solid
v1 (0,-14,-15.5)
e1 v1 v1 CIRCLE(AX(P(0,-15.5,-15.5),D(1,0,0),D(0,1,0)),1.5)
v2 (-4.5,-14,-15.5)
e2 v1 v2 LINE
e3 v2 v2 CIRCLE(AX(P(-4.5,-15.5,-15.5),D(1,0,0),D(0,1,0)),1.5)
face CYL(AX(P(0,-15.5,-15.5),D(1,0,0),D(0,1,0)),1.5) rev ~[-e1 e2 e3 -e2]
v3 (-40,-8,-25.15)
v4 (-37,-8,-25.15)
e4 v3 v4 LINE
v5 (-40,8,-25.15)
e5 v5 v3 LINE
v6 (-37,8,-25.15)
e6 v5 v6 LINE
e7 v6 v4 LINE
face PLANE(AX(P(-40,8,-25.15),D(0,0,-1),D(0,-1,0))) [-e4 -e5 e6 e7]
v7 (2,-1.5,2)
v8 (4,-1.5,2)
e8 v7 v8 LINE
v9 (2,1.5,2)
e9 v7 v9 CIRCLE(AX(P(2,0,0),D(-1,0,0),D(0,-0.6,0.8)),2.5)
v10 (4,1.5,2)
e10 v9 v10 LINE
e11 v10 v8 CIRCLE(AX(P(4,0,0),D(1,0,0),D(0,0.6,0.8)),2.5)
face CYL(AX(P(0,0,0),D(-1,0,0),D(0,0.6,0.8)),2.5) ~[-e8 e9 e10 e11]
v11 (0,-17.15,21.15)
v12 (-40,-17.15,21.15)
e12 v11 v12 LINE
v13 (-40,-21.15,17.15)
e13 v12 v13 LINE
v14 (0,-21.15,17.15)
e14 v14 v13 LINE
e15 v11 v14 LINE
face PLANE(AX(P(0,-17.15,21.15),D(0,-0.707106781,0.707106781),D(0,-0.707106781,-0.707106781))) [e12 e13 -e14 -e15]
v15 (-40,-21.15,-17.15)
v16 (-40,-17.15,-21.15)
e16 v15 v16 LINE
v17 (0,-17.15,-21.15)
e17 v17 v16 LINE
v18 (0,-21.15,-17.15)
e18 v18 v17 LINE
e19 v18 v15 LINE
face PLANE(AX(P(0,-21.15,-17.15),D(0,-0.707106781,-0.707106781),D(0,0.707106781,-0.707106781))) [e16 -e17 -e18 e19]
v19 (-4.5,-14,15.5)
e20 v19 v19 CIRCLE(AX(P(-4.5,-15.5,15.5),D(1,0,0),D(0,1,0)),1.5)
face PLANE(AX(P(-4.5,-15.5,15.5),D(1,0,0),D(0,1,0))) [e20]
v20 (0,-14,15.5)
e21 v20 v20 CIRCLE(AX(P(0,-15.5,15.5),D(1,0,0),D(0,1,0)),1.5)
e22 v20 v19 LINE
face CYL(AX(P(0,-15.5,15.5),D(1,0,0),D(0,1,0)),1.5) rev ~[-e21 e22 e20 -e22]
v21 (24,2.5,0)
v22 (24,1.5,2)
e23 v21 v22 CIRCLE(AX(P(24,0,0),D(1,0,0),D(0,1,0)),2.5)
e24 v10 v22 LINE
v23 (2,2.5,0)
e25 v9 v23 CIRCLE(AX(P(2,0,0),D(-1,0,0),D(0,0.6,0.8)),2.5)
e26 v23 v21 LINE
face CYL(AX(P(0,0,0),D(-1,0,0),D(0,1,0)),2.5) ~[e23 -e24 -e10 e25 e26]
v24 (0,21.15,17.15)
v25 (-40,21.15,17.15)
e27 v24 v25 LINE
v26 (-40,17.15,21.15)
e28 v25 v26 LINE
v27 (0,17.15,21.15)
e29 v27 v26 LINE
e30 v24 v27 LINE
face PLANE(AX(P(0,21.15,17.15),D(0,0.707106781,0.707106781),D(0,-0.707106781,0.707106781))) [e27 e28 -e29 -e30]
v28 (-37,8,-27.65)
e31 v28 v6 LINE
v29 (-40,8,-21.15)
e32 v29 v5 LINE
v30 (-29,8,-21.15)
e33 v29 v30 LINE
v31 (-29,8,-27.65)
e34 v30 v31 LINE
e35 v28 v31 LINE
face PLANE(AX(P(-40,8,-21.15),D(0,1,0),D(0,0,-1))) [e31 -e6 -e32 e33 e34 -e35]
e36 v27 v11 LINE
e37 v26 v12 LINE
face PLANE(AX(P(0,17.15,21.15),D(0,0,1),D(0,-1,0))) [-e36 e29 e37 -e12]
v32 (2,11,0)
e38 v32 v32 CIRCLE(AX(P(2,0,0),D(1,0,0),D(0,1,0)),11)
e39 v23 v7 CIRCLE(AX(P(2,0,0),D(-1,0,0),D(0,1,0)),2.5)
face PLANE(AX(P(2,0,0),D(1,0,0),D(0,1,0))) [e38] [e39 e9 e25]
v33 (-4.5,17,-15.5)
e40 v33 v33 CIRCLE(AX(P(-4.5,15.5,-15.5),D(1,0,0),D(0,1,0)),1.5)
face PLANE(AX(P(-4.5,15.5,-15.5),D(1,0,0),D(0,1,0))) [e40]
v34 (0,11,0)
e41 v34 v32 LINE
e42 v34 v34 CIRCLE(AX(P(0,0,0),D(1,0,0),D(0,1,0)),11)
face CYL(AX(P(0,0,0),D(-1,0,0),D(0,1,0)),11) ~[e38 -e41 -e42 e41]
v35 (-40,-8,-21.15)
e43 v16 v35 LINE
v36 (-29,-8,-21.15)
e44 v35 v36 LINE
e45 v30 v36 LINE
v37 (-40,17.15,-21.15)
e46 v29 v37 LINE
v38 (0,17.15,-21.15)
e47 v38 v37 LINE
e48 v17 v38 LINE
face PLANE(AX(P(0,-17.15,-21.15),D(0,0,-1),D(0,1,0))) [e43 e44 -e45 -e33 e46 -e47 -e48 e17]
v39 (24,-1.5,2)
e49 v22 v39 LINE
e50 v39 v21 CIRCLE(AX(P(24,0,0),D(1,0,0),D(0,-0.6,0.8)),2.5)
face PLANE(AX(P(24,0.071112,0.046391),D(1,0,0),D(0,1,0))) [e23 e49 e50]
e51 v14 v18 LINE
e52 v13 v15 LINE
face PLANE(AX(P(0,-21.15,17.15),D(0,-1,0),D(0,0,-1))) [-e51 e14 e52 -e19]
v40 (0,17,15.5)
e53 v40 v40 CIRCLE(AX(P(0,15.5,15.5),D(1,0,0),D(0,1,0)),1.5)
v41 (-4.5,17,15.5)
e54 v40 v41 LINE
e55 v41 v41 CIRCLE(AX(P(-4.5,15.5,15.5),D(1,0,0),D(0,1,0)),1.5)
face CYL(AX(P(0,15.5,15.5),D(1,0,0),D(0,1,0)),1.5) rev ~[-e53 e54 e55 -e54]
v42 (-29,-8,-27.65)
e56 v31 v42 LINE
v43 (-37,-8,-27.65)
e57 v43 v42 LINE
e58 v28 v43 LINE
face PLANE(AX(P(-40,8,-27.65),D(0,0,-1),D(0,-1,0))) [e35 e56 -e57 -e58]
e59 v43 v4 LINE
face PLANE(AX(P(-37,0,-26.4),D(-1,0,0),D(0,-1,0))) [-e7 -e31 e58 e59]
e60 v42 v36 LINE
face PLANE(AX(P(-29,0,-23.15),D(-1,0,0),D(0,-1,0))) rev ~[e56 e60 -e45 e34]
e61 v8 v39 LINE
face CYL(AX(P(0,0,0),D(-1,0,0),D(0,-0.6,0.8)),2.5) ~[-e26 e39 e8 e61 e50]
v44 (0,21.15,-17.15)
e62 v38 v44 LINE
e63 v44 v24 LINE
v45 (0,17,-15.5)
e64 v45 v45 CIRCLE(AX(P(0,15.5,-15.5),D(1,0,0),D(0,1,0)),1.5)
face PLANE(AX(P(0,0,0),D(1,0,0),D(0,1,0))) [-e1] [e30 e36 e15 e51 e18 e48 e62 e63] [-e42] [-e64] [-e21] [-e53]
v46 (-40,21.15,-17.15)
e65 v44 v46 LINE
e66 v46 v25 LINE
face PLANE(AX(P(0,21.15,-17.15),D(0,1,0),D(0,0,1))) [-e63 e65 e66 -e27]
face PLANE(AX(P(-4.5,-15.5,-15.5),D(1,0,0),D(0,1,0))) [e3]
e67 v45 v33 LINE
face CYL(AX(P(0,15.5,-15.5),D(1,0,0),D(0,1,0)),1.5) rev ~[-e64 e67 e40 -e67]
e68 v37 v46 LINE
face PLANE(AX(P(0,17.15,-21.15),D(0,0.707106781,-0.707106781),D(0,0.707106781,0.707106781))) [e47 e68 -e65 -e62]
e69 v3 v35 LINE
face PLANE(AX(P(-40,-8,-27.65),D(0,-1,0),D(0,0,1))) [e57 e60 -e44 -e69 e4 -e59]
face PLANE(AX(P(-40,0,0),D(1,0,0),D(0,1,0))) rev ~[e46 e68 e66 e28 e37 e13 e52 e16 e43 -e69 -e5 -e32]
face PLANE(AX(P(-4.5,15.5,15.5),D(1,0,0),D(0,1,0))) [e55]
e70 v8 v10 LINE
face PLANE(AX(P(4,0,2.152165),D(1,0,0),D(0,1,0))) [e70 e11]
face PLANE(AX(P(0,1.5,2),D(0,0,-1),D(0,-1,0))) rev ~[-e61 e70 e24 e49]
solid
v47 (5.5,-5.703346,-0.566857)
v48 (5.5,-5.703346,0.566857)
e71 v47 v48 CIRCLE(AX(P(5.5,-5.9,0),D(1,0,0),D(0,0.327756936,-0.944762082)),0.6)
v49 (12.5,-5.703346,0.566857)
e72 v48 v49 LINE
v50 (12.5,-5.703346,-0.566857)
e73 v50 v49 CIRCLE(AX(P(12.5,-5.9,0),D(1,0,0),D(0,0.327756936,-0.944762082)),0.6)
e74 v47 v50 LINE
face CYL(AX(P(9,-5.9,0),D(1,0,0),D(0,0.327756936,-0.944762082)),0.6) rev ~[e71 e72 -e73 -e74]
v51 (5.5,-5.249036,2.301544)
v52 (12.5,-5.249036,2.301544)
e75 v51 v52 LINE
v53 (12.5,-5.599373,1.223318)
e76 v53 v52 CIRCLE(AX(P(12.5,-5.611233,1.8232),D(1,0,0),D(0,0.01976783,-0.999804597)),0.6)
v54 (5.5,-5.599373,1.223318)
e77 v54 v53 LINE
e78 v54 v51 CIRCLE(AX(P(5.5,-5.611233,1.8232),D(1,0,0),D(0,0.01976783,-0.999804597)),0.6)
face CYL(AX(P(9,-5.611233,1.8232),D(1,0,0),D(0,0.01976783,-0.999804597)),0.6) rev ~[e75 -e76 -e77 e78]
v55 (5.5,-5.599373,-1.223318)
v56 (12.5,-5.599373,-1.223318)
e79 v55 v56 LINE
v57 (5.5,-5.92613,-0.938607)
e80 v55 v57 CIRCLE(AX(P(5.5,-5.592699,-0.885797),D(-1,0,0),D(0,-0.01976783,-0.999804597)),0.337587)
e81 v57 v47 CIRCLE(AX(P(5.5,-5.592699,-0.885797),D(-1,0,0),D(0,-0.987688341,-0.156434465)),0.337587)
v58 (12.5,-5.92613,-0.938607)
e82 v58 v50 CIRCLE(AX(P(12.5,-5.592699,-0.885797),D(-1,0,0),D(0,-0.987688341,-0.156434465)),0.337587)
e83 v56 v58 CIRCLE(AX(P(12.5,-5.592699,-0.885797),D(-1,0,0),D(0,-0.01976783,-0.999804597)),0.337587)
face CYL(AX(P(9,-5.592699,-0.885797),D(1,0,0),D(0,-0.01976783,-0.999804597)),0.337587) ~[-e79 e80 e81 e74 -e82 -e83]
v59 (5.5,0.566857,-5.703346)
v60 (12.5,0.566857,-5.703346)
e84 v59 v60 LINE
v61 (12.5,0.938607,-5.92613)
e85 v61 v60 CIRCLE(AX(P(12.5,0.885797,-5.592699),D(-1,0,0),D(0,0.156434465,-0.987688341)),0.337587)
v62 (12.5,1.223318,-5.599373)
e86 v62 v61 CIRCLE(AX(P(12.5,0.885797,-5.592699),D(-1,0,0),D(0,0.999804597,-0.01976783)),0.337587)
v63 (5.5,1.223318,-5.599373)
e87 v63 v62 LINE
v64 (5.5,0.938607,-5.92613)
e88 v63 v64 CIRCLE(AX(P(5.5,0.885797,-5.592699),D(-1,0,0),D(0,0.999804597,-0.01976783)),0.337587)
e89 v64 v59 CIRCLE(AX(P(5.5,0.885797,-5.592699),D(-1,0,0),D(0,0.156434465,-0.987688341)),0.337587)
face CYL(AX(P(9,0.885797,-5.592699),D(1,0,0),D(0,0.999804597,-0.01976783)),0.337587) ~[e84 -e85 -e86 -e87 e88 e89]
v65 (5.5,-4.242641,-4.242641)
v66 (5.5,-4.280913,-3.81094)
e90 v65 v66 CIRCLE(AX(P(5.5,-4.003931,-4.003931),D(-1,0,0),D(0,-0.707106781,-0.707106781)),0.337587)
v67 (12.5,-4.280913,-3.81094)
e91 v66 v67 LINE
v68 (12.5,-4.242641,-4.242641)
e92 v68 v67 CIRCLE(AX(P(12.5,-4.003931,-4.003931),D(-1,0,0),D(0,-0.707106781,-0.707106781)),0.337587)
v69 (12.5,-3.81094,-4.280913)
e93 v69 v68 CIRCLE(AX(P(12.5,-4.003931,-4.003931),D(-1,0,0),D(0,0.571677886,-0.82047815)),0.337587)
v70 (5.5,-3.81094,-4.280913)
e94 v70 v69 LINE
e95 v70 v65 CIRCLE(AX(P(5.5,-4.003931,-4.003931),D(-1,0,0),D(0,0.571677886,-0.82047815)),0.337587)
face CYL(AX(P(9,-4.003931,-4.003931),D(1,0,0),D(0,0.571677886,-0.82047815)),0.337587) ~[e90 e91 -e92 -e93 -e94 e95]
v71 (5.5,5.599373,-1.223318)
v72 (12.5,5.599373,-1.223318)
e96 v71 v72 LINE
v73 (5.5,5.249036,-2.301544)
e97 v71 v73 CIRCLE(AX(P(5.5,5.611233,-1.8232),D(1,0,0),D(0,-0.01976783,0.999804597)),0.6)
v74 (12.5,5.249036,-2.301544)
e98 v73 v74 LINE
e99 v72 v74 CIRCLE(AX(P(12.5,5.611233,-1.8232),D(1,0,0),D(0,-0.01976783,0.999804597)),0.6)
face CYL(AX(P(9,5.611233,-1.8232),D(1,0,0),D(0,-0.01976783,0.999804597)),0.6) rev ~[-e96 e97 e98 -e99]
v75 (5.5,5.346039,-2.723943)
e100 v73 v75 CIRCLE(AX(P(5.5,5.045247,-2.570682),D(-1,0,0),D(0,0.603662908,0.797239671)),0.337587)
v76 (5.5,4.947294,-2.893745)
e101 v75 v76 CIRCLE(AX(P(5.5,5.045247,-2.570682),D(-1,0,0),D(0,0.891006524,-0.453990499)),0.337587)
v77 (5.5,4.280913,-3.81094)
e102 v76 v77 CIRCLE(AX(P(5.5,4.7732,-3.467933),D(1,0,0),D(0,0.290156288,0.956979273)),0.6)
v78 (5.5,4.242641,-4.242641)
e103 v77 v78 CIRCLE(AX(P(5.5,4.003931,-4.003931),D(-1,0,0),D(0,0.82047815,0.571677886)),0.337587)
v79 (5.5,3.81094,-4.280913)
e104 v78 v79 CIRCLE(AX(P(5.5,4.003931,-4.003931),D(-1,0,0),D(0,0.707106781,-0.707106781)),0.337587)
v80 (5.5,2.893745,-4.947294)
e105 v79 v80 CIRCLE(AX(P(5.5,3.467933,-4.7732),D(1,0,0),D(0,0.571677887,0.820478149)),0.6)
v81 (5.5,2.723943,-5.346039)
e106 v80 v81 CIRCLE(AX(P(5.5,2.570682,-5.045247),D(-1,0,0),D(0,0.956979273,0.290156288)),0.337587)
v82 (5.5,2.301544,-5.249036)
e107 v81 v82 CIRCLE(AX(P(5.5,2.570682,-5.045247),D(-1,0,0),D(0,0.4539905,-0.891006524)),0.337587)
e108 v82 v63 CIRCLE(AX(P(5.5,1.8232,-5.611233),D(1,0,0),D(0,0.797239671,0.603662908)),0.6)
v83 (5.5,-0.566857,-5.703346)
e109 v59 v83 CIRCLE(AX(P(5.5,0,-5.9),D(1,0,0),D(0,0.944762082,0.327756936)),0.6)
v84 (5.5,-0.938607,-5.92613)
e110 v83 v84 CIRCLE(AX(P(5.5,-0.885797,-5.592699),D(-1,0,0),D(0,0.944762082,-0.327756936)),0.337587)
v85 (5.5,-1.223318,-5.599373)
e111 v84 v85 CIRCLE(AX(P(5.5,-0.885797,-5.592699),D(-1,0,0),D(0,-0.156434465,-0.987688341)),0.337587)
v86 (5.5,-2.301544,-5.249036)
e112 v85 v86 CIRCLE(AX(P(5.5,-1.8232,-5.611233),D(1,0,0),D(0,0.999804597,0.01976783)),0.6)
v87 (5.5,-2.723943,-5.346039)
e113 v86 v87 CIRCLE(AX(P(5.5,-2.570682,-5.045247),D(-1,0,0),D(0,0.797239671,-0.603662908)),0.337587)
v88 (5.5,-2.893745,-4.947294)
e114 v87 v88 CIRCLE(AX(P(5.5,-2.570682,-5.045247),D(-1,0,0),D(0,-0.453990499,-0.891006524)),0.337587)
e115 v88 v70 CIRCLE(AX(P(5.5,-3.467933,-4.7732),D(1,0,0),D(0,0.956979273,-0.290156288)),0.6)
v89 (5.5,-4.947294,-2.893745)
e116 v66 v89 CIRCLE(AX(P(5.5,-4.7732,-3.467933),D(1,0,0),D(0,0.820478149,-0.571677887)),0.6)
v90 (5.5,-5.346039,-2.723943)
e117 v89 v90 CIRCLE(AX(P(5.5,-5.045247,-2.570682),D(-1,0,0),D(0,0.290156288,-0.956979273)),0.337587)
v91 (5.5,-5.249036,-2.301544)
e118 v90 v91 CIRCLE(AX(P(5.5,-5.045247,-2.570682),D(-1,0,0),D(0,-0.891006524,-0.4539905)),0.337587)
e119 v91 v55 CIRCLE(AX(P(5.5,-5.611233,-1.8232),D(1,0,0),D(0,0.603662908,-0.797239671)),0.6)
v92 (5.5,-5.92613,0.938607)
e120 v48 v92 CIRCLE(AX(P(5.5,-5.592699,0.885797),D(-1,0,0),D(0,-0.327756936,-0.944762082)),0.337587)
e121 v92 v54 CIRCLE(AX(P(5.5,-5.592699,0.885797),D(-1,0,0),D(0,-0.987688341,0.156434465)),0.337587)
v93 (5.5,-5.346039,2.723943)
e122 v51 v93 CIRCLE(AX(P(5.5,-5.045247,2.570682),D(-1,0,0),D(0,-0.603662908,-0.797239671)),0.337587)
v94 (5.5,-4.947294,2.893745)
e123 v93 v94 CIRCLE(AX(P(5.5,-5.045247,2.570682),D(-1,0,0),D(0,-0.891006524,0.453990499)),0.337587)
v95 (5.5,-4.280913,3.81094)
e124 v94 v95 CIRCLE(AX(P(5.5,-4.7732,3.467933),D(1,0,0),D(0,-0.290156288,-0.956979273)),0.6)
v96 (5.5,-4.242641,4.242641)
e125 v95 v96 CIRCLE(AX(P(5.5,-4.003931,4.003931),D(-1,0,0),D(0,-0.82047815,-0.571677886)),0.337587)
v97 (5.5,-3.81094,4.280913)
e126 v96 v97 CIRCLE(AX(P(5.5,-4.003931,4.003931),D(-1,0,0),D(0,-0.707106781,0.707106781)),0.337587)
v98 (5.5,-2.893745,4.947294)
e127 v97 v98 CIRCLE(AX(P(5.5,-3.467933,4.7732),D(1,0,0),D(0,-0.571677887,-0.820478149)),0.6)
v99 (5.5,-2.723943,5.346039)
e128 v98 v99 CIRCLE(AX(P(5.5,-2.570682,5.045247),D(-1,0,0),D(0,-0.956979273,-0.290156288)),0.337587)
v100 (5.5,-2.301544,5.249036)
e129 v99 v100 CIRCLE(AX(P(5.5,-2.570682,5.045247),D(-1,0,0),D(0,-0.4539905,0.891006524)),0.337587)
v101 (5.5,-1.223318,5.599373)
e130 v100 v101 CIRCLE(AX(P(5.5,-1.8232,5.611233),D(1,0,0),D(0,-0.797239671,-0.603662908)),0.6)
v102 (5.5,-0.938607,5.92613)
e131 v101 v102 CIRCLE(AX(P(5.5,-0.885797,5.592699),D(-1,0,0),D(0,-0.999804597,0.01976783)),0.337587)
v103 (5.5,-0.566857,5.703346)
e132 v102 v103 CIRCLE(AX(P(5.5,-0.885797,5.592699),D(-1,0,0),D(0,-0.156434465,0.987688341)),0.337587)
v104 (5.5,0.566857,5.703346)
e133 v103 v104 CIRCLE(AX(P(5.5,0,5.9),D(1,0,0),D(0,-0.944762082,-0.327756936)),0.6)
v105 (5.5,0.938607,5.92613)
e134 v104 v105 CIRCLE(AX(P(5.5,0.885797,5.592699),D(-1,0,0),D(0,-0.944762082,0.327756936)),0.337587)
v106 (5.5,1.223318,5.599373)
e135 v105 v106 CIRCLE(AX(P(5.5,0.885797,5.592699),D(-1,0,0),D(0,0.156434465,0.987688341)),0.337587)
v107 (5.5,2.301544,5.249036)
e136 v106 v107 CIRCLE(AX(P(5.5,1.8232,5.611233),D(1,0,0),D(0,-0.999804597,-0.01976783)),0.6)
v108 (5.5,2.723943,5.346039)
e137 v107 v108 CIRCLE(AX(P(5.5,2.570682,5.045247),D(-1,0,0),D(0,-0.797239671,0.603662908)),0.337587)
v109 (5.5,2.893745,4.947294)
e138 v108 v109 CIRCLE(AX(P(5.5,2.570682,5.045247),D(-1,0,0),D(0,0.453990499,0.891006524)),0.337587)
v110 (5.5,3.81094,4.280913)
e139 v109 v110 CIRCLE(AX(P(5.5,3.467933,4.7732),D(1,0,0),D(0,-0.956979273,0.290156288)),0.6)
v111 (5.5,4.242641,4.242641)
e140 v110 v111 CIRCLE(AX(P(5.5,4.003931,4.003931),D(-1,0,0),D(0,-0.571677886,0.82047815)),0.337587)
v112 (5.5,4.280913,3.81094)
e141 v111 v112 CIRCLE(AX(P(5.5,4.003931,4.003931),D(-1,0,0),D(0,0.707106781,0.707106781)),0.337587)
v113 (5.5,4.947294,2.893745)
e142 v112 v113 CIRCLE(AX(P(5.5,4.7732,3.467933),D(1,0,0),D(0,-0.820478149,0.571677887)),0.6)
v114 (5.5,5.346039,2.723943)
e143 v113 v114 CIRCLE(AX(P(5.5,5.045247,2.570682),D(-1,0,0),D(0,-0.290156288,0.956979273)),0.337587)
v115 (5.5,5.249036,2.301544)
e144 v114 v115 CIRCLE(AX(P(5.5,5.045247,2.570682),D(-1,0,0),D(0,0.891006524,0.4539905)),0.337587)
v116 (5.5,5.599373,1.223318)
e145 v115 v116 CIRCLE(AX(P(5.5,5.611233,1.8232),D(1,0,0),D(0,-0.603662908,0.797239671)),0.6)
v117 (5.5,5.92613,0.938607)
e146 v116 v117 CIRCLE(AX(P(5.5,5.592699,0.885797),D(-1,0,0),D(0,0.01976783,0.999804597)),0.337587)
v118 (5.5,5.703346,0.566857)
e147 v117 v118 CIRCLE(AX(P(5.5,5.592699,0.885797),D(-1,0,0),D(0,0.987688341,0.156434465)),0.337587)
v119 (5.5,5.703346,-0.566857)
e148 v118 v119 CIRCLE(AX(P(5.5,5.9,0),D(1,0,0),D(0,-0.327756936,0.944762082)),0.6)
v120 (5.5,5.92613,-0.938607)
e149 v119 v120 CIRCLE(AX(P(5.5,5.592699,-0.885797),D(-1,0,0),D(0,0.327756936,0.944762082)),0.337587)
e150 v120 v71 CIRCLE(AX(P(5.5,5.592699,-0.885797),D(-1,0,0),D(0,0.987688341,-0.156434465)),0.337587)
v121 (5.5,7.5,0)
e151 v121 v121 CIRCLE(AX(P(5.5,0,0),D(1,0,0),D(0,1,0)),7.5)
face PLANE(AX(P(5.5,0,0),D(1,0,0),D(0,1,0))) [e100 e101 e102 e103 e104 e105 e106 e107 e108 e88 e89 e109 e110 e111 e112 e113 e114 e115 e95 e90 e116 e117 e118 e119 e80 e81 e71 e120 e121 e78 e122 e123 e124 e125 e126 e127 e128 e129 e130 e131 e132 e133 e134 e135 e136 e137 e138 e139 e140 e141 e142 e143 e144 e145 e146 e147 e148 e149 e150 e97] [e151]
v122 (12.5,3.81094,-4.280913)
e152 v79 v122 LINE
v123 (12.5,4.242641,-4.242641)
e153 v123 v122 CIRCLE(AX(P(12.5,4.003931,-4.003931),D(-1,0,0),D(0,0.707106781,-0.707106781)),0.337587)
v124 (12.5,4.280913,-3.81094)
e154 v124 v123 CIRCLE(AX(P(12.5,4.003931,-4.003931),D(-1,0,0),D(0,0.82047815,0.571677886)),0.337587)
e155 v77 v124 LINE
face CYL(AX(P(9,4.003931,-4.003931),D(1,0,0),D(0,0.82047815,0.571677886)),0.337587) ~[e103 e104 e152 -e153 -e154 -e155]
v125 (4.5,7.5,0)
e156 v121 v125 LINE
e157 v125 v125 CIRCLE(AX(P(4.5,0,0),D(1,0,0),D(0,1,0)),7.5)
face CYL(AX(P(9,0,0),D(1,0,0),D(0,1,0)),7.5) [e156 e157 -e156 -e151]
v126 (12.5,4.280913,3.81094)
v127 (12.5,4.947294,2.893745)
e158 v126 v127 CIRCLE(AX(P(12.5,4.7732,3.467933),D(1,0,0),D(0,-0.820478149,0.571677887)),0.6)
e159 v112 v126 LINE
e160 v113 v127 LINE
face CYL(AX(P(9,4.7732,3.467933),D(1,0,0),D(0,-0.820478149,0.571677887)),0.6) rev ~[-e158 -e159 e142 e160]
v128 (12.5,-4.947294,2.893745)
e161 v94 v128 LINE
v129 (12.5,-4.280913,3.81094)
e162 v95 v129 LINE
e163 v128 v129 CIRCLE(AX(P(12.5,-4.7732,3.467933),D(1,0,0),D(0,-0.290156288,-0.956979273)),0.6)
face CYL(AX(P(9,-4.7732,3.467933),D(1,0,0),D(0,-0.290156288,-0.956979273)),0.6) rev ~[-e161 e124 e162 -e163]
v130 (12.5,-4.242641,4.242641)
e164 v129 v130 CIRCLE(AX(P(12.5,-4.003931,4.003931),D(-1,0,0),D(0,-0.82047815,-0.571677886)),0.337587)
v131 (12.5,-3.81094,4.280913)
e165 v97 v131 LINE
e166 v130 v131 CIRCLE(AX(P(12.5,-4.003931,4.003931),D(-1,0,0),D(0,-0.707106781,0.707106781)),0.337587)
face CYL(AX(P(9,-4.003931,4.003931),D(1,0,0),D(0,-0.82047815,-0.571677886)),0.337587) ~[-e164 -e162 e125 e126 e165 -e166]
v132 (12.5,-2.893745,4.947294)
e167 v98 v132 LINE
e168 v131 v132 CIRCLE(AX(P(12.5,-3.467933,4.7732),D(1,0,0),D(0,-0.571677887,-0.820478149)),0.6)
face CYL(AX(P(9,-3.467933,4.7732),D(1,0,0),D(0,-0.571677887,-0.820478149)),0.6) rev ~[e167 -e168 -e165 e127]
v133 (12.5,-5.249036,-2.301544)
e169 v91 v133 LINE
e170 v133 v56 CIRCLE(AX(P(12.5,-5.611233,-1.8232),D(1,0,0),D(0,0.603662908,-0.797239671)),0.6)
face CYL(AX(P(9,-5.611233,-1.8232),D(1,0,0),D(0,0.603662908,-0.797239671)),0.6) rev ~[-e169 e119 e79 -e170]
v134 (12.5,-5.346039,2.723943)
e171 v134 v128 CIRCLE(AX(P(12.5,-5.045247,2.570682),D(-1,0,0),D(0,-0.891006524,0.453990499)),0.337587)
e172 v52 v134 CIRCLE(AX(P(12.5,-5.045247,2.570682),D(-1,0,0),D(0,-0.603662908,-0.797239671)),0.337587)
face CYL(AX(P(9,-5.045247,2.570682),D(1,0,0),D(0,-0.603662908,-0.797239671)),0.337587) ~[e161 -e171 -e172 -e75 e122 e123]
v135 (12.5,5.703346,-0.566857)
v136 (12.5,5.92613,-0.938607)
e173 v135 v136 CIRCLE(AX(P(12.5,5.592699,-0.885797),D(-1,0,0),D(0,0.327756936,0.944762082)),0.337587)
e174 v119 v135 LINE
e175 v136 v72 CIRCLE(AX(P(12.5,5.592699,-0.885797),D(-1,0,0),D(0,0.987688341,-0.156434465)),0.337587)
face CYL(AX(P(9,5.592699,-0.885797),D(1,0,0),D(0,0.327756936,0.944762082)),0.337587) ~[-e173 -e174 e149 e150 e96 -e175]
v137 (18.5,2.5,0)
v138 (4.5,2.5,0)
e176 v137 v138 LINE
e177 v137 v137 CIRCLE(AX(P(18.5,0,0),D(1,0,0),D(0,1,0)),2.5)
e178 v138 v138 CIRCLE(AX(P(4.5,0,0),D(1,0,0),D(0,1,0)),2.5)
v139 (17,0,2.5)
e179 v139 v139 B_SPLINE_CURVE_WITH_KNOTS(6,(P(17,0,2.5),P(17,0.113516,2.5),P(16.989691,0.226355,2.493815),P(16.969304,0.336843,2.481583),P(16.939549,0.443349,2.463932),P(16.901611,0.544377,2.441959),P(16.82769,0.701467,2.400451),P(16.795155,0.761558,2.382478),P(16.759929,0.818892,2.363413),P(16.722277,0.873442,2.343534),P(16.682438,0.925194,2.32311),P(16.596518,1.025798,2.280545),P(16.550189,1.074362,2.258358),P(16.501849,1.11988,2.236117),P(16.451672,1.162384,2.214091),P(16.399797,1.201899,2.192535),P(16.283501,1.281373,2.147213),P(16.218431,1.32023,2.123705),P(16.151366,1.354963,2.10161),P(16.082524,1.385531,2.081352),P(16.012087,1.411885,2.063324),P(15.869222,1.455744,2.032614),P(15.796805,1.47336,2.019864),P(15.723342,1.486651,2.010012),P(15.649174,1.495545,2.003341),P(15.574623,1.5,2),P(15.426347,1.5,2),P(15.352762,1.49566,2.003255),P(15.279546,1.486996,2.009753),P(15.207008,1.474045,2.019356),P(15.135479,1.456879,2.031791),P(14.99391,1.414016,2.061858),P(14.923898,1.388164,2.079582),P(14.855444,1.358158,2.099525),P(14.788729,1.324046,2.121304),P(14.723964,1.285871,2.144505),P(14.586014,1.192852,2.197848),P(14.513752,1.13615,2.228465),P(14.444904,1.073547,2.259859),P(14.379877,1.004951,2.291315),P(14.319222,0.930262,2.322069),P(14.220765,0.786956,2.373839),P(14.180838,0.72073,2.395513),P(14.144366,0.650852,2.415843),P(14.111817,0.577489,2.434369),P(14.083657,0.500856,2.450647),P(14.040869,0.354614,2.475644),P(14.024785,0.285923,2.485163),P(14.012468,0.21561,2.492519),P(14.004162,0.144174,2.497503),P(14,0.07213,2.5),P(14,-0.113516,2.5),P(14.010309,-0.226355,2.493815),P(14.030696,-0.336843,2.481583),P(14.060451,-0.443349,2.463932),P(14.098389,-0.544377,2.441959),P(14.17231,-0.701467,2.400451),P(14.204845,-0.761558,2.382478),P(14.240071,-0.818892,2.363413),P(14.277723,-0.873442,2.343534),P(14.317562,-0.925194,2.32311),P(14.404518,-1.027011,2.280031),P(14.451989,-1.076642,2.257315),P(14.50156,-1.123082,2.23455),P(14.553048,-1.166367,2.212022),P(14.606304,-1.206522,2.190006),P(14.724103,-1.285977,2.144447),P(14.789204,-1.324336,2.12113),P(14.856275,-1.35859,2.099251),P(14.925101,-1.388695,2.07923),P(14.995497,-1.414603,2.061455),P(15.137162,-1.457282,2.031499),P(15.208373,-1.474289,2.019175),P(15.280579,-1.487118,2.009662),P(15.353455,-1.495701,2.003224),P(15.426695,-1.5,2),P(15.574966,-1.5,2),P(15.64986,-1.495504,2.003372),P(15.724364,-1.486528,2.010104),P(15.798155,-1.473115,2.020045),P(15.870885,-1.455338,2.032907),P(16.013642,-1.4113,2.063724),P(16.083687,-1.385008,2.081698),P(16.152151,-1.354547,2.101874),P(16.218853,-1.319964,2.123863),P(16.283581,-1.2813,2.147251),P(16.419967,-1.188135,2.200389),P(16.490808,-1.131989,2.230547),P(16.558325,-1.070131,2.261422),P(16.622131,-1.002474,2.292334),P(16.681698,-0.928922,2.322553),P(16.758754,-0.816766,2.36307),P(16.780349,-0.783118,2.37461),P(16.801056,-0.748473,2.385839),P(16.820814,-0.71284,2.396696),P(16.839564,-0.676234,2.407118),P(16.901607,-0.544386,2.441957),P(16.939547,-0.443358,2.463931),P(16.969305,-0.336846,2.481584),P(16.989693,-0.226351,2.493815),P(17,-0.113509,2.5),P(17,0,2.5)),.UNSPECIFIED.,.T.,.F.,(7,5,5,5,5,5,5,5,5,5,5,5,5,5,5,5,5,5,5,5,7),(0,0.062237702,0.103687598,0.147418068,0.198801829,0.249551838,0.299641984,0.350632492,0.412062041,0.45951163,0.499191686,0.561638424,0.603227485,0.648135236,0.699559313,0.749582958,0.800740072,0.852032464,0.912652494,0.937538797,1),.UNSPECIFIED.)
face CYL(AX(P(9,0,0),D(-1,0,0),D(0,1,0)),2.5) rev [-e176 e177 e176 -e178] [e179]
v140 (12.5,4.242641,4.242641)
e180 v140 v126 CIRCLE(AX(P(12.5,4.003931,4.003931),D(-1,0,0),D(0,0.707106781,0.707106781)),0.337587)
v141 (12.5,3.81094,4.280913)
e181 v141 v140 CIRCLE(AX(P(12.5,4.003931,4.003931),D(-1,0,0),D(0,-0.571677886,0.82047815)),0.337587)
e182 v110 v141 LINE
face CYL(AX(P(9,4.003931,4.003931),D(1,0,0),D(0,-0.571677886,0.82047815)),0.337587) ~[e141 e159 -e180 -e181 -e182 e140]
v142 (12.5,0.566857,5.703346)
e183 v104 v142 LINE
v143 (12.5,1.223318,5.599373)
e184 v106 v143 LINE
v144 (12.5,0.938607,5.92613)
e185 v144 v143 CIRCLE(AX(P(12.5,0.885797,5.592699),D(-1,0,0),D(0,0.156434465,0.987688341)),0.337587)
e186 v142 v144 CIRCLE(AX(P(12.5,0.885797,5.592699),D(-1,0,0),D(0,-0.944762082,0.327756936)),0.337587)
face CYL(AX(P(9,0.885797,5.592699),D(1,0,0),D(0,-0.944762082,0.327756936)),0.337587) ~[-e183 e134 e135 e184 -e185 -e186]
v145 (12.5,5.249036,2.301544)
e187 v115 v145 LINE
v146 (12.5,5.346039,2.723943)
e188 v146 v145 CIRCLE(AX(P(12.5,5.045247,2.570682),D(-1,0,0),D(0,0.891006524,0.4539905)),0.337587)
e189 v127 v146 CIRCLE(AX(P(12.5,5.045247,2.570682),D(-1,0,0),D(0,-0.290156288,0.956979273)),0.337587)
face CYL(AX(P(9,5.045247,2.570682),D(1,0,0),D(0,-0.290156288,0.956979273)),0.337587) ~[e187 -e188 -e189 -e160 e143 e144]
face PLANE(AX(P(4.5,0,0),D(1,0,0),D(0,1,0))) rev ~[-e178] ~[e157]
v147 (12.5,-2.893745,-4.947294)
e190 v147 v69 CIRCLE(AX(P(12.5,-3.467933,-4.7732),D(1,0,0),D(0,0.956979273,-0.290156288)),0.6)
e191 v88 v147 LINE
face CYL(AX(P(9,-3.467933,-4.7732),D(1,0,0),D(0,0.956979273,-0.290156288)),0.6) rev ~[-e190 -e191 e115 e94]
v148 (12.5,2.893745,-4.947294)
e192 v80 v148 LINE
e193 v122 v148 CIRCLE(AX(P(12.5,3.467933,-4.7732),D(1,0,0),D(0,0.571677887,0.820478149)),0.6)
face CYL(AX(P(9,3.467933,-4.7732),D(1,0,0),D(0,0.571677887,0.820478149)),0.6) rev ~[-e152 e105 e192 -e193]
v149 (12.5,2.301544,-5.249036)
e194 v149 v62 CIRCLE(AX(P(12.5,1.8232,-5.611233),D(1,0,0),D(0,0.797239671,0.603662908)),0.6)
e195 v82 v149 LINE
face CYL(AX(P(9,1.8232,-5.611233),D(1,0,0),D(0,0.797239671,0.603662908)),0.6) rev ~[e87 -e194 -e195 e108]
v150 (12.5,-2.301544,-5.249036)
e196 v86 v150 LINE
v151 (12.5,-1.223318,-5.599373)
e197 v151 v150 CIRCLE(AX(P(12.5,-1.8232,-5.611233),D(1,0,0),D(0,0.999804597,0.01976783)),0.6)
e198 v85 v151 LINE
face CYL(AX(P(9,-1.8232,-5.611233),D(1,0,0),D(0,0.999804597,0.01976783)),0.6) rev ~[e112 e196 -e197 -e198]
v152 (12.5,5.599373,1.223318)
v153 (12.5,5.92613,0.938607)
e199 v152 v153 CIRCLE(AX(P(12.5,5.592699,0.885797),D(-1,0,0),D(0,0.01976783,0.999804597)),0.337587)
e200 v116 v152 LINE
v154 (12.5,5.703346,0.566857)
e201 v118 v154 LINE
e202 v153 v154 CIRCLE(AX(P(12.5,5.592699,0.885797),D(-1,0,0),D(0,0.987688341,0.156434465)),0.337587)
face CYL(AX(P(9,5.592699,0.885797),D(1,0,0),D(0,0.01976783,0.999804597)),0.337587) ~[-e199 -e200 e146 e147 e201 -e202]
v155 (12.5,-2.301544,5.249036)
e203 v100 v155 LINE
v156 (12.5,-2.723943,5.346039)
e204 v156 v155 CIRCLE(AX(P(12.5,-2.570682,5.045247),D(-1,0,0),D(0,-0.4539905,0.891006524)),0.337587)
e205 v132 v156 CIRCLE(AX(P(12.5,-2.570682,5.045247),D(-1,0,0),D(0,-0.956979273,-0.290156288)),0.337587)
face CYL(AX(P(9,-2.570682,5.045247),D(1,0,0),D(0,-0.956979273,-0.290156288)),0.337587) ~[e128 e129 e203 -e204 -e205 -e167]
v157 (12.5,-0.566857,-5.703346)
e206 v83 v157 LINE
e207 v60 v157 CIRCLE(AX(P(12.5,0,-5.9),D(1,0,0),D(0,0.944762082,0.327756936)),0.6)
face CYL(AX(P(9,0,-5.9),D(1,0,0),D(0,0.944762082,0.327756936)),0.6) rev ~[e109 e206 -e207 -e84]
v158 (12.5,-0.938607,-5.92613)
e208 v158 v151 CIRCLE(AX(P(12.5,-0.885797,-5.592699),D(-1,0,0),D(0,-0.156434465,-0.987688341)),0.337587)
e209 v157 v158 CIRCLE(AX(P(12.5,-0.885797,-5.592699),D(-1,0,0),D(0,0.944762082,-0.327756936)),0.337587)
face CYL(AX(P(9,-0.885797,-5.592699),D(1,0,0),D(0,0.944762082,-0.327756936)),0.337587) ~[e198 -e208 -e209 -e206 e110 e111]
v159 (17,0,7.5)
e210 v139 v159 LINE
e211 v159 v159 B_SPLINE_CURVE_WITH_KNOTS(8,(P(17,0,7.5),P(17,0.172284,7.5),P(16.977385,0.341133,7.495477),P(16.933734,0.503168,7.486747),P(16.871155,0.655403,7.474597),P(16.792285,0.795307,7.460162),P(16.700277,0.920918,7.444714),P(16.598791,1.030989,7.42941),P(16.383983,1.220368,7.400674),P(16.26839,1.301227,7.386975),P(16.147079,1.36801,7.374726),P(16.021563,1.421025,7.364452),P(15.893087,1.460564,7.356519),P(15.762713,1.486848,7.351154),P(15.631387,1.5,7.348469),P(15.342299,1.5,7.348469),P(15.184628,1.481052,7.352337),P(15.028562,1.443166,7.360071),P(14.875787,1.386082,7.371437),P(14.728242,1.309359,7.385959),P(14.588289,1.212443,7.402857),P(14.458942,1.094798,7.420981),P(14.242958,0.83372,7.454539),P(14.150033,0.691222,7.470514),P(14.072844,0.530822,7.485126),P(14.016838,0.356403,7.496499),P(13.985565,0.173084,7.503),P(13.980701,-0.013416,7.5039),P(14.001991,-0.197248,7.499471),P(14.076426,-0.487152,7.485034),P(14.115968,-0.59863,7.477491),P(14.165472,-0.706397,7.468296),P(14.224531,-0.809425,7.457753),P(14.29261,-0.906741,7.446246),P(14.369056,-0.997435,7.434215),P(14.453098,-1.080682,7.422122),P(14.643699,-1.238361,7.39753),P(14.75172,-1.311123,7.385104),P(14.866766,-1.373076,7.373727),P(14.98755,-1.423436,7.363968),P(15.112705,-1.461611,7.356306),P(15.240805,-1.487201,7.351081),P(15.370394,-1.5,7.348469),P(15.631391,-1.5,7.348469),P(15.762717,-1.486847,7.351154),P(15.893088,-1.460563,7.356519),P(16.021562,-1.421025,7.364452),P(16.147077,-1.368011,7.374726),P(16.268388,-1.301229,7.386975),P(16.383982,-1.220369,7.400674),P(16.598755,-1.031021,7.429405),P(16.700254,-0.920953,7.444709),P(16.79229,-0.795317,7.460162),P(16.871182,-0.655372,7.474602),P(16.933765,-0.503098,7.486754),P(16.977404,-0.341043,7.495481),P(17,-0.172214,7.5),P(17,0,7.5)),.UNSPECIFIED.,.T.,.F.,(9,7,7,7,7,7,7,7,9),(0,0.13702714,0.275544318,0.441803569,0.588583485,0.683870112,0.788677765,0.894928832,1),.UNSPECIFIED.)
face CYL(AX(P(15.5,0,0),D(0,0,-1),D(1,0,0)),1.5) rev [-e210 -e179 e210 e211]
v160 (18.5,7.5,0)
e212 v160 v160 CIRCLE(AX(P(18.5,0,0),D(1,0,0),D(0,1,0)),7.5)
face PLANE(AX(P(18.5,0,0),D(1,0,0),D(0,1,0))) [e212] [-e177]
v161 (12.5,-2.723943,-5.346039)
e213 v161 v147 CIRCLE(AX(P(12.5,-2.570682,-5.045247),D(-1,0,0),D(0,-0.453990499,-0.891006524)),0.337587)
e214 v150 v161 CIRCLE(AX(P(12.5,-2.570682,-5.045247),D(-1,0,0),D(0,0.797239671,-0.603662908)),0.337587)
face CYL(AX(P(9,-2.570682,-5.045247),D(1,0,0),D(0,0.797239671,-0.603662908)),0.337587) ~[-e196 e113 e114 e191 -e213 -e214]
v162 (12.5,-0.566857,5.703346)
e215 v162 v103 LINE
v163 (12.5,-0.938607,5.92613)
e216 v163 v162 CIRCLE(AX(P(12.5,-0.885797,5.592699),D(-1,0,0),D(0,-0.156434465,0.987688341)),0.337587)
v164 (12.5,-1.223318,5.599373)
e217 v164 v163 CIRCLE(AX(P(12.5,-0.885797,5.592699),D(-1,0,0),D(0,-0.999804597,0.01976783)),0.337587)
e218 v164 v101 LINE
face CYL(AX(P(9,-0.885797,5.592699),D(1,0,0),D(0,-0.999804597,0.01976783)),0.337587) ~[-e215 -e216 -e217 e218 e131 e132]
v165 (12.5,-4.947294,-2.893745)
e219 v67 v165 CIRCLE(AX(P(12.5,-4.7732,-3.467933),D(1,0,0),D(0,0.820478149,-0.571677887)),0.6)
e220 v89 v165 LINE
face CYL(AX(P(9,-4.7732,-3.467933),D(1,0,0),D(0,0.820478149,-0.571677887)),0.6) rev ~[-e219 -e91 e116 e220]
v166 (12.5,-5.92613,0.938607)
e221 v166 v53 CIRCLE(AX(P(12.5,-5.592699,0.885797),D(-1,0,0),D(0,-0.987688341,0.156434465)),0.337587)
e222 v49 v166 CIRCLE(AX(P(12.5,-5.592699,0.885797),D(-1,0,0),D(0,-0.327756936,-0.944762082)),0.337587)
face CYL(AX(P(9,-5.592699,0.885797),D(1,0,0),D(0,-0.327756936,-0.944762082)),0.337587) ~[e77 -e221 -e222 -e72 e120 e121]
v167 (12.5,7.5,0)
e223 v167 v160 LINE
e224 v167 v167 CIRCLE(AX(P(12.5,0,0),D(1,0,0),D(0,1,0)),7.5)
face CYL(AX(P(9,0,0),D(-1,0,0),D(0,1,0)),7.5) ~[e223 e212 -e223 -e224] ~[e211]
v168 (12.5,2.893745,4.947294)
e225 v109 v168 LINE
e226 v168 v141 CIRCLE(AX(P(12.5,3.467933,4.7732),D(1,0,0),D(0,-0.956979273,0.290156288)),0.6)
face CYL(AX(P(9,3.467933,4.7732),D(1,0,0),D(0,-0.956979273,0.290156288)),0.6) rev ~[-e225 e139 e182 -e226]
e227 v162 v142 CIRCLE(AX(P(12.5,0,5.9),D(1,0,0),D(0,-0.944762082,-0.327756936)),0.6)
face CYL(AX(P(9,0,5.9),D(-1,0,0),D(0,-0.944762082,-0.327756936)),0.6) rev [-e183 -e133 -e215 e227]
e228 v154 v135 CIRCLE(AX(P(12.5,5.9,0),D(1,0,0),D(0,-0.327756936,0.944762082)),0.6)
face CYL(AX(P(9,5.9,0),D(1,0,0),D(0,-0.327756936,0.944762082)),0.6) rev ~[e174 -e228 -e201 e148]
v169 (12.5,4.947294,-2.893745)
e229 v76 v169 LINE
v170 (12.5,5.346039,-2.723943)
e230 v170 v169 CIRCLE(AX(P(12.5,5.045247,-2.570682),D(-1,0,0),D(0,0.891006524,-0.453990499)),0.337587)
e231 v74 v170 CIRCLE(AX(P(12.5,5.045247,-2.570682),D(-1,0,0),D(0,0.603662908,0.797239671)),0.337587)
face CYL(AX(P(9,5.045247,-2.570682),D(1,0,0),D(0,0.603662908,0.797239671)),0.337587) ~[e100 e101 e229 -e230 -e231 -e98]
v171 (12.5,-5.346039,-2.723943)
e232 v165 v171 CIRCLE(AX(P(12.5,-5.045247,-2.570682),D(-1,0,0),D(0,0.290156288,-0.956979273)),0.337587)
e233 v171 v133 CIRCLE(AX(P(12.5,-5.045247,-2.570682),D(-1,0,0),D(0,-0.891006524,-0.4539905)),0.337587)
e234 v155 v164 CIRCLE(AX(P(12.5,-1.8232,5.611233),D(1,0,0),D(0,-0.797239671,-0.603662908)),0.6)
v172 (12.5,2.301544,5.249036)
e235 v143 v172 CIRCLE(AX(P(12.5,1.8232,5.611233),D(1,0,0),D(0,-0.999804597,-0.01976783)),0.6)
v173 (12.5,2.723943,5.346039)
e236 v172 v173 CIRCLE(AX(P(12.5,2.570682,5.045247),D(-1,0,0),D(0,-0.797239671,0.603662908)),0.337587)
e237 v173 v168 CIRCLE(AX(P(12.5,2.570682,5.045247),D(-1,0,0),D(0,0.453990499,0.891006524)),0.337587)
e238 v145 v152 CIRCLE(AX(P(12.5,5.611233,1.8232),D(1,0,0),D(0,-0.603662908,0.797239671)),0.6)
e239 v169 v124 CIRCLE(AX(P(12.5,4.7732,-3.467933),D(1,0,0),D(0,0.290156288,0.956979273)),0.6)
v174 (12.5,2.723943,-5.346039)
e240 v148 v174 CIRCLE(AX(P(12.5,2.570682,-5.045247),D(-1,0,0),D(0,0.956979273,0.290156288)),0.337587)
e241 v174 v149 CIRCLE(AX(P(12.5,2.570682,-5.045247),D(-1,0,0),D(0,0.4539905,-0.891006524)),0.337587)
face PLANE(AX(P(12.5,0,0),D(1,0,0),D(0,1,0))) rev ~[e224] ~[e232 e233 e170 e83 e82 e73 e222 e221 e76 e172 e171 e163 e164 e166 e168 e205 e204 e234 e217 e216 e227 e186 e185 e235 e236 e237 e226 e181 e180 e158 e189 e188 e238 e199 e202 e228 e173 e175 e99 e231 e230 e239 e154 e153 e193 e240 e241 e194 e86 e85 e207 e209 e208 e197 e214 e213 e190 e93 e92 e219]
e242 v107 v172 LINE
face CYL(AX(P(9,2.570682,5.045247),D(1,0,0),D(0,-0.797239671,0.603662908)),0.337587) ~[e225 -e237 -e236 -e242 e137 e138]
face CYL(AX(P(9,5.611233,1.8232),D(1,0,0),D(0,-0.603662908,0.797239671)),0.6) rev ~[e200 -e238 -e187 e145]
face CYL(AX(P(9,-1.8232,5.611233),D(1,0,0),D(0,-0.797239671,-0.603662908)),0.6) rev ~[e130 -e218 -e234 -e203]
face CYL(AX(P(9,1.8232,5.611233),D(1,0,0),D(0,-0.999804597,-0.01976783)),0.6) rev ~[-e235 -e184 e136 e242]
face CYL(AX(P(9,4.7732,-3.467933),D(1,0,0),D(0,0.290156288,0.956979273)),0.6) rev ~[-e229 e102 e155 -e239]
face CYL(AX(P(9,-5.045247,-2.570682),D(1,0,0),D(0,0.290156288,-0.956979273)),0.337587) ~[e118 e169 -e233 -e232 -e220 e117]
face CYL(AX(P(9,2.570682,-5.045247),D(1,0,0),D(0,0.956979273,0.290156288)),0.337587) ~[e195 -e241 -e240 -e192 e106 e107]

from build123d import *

# Parameters (mm, degrees)
F0_R           = 1.5
F0_R_2         = 11
F1_DEPTH       = 40
F2_DEPTH       = 24
F3_DEPTH       = 4
F4_DEPTH       = 2
F5_DEPTH       = 4.5
F6_W           = 16
F6_H           = 4
F6_H_2         = 2.5
F7_DEPTH       = 11
F8_DEPTH       = 3
F10_R          = 7.5
F10_R_2        = 2.5
F11_DEPTH      = 4.5
F11_DEPTH_BACK = 9.5
F12_R          = 7.5
F13_DEPTH      = 3.5
F14_R          = 1.5
F15_DEPTH      = 25


with BuildPart() as f1:
    # F0 (on Right) → F1 (new body)
    with BuildSketch(Plane.YZ):
        Polygon((-17.15, 21.15), (-19.15, 19.15), (-21.15, 17.15), (-21.15, 0), (-21.15, -17.15), (-19.15, -19.15), (-17.15, -21.15), (0, -21.15), (17.15, -21.15), (19.15, -19.15), (21.15, -17.15), (21.15, 0), (21.15, 17.15), (19.15, 19.15), (17.15, 21.15), (0, 21.15), align=None)
        with Locations((-15.5, -15.5)):
            Circle(F0_R, mode=Mode.SUBTRACT)
        with Locations((15.5, -15.5)):
            Circle(F0_R, mode=Mode.SUBTRACT)
        with Locations((-15.5, 15.5)):
            Circle(F0_R, mode=Mode.SUBTRACT)
        Circle(F0_R_2, mode=Mode.SUBTRACT)
        with Locations((15.5, 15.5)):
            Circle(F0_R, mode=Mode.SUBTRACT)
        Circle(F0_R_2)
        with BuildLine():
            ThreePointArc((1.5, 2), (2.2360679775, 1.1180339887), (2.5, 0))
            ThreePointArc((2.5, 0), (-1.1180339887, -2.2360679775), (-1.5, 2))
            ThreePointArc((-1.5, 2), (0, 2.5), (1.5, 2))
        make_face(mode=Mode.SUBTRACT)
        with BuildLine():
            ThreePointArc((-1.5, 2), (-1.1180339887, -2.2360679775), (2.5, 0))
            ThreePointArc((2.5, 0), (2.2360679775, 1.1180339887), (1.5, 2))
            Line((1.5, 2), (-1.5, 2))
        make_face()
        with Locations((15.5, 15.5)):
            Circle(F0_R)
        with Locations((15.5, -15.5)):
            Circle(F0_R)
        with Locations((-15.5, -15.5)):
            Circle(F0_R)
        with Locations((-15.5, 15.5)):
            Circle(F0_R)
        with BuildLine():
            Line((-1.5, 2), (1.5, 2))
            ThreePointArc((1.5, 2), (0, 2.5), (-1.5, 2))
        make_face()
    extrude(amount=-F1_DEPTH)

    # F0 (on Right) → F2 (join)
    with BuildSketch(Plane.YZ):
        with BuildLine():
            ThreePointArc((-1.5, 2), (-1.1180339887, -2.2360679775), (2.5, 0))
            ThreePointArc((2.5, 0), (2.2360679775, 1.1180339887), (1.5, 2))
            Line((1.5, 2), (-1.5, 2))
        make_face()
    extrude(amount=F2_DEPTH)

    # F0 (on Right) → F3 (join)
    with BuildSketch(Plane.YZ):
        with BuildLine():
            Line((-1.5, 2), (1.5, 2))
            ThreePointArc((1.5, 2), (0, 2.5), (-1.5, 2))
        make_face()
    extrude(amount=F3_DEPTH)

    # F0 (on Right) → F4 (join)
    with BuildSketch(Plane.YZ):
        Circle(F0_R_2)
        with BuildLine():
            ThreePointArc((1.5, 2), (2.2360679775, 1.1180339887), (2.5, 0))
            ThreePointArc((2.5, 0), (-1.1180339887, -2.2360679775), (-1.5, 2))
            ThreePointArc((-1.5, 2), (0, 2.5), (1.5, 2))
        make_face(mode=Mode.SUBTRACT)
    extrude(amount=F4_DEPTH)

    # F0 (on Right) → F5 (cut)
    with BuildSketch(Plane.YZ):
        with Locations((-15.5, 15.5)):
            Circle(F0_R)
        with Locations((15.5, 15.5)):
            Circle(F0_R)
        with Locations((15.5, -15.5)):
            Circle(F0_R)
        with Locations((-15.5, -15.5)):
            Circle(F0_R)
    extrude(amount=-F5_DEPTH, mode=Mode.SUBTRACT)

    # F6 (on face) → F7 (join)
    with BuildSketch(Plane(origin=(-40, 0, 0), x_dir=(0, -1, 0), z_dir=(-1, 0, 0))):
        with Locations((0, -23.15)):
            Rectangle(F6_W, F6_H)
        with Locations((0, -26.4)):
            Rectangle(F6_W, F6_H_2)
    extrude(amount=-F7_DEPTH)

    # F6 (on face) → F8 (cut)
    with BuildSketch(Plane(origin=(-40, 0, 0), x_dir=(0, -1, 0), z_dir=(-1, 0, 0))):
        with Locations((0, -26.4)):
            Rectangle(F6_W, F6_H_2)
    extrude(amount=-F8_DEPTH, mode=Mode.SUBTRACT)


with BuildPart() as f11:
    # F10 (on offset) → F11 (new body, two sides)
    with BuildSketch(Plane.YZ.offset(9)) as f11_sk:
        Circle(F10_R)
        Circle(F10_R_2, mode=Mode.SUBTRACT)
    extrude(amount=-F11_DEPTH)
    extrude(f11_sk.sketch, amount=F11_DEPTH_BACK)

    # F12 (on offset) → F13 (cut, symmetric)
    with BuildSketch(Plane.YZ.offset(9)):
        Circle(F12_R)
        with BuildLine():
            ThreePointArc((-0.9386067902, 5.9261300436), (-0.7122616293, 5.8822689812), (-0.5668572491, 5.7033458387))
            ThreePointArc((-0.5668572491, 5.7033458387), (0, 5.3), (0.5668572491, 5.7033458387))
            ThreePointArc((0.5668572491, 5.7033458387), (0.7122616293, 5.8822689812), (0.9386067902, 5.9261300436))
            ThreePointArc((0.9386067902, 5.9261300436), (1.1403200169, 5.8144711931), (1.2233175084, 5.599372748))
            ThreePointArc((1.2233175084, 5.599372748), (1.6377900702, 5.0405995364), (2.3015440695, 5.2490357013))
            ThreePointArc((2.3015440695, 5.2490357013), (2.4951221445, 5.3742692973), (2.7239429984, 5.3460391451))
            ThreePointArc((2.7239429984, 5.3460391451), (2.8812791947, 5.1775124527), (2.8937454248, 4.9472940395))
            ThreePointArc((2.8937454248, 4.9472940395), (3.1152618372, 4.2877900702), (3.8109397206, 4.2809133772))
            ThreePointArc((3.8109397206, 4.2809133772), (4.0337427197, 4.3401986898), (4.2426406871, 4.2426406871))
            ThreePointArc((4.2426406871, 4.2426406871), (4.3401986898, 4.0337427197), (4.2809133772, 3.8109397206))
            ThreePointArc((4.2809133772, 3.8109397206), (4.2877900702, 3.1152618372), (4.9472940395, 2.8937454248))
            ThreePointArc((4.9472940395, 2.8937454248), (5.1775124527, 2.8812791947), (5.3460391451, 2.7239429984))
            ThreePointArc((5.3460391451, 2.7239429984), (5.3742692973, 2.4951221445), (5.2490357013, 2.3015440695))
            ThreePointArc((5.2490357013, 2.3015440695), (5.0405995364, 1.6377900702), (5.599372748, 1.2233175084))
            ThreePointArc((5.599372748, 1.2233175084), (5.8144711931, 1.1403200169), (5.9261300436, 0.9386067902))
            ThreePointArc((5.9261300436, 0.9386067902), (5.8822689812, 0.7122616293), (5.7033458387, 0.5668572491))
            ThreePointArc((5.7033458387, 0.5668572491), (5.3, 0), (5.7033458387, -0.5668572491))
            ThreePointArc((5.7033458387, -0.5668572491), (5.8822689812, -0.7122616293), (5.9261300436, -0.9386067902))
            ThreePointArc((5.9261300436, -0.9386067902), (5.8144711931, -1.1403200169), (5.599372748, -1.2233175084))
            ThreePointArc((5.599372748, -1.2233175084), (5.0405995364, -1.6377900702), (5.2490357013, -2.3015440695))
            ThreePointArc((5.2490357013, -2.3015440695), (5.3742692973, -2.4951221445), (5.3460391451, -2.7239429984))
            ThreePointArc((5.3460391451, -2.7239429984), (5.1775124527, -2.8812791947), (4.9472940395, -2.8937454248))
            ThreePointArc((4.9472940395, -2.8937454248), (4.2877900702, -3.1152618372), (4.2809133772, -3.8109397206))
            ThreePointArc((4.2809133772, -3.8109397206), (4.3401986898, -4.0337427197), (4.2426406871, -4.2426406871))
            ThreePointArc((4.2426406871, -4.2426406871), (4.0337427197, -4.3401986898), (3.8109397206, -4.2809133772))
            ThreePointArc((3.8109397206, -4.2809133772), (3.1152618372, -4.2877900702), (2.8937454248, -4.9472940395))
            ThreePointArc((2.8937454248, -4.9472940395), (2.8812791947, -5.1775124527), (2.7239429984, -5.3460391451))
            ThreePointArc((2.7239429984, -5.3460391451), (2.4951221445, -5.3742692973), (2.3015440695, -5.2490357013))
            ThreePointArc((2.3015440695, -5.2490357013), (1.6377900702, -5.0405995364), (1.2233175084, -5.599372748))
            ThreePointArc((1.2233175084, -5.599372748), (1.1403200169, -5.8144711931), (0.9386067902, -5.9261300436))
            ThreePointArc((0.9386067902, -5.9261300436), (0.7122616293, -5.8822689812), (0.5668572491, -5.7033458387))
            ThreePointArc((0.5668572491, -5.7033458387), (0, -5.3), (-0.5668572491, -5.7033458387))
            ThreePointArc((-0.5668572491, -5.7033458387), (-0.7122616293, -5.8822689812), (-0.9386067902, -5.9261300436))
            ThreePointArc((-0.9386067902, -5.9261300436), (-1.1403200169, -5.8144711931), (-1.2233175084, -5.599372748))
            ThreePointArc((-1.2233175084, -5.599372748), (-1.6377900702, -5.0405995364), (-2.3015440695, -5.2490357013))
            ThreePointArc((-2.3015440695, -5.2490357013), (-2.4951221445, -5.3742692973), (-2.7239429984, -5.3460391451))
            ThreePointArc((-2.7239429984, -5.3460391451), (-2.8812791947, -5.1775124527), (-2.8937454248, -4.9472940395))
            ThreePointArc((-2.8937454248, -4.9472940395), (-3.1152618372, -4.2877900702), (-3.8109397206, -4.2809133772))
            ThreePointArc((-3.8109397206, -4.2809133772), (-4.0337427197, -4.3401986898), (-4.2426406871, -4.2426406871))
            ThreePointArc((-4.2426406871, -4.2426406871), (-4.3401986898, -4.0337427197), (-4.2809133772, -3.8109397206))
            ThreePointArc((-4.2809133772, -3.8109397206), (-4.2877900702, -3.1152618372), (-4.9472940395, -2.8937454248))
            ThreePointArc((-4.9472940395, -2.8937454248), (-5.1775124527, -2.8812791947), (-5.3460391451, -2.7239429984))
            ThreePointArc((-5.3460391451, -2.7239429984), (-5.3742692973, -2.4951221445), (-5.2490357013, -2.3015440695))
            ThreePointArc((-5.2490357013, -2.3015440695), (-5.0405995364, -1.6377900702), (-5.599372748, -1.2233175084))
            ThreePointArc((-5.599372748, -1.2233175084), (-5.8144711931, -1.1403200169), (-5.9261300436, -0.9386067902))
            ThreePointArc((-5.9261300436, -0.9386067902), (-5.8822689812, -0.7122616293), (-5.7033458387, -0.5668572491))
            ThreePointArc((-5.7033458387, -0.5668572491), (-5.3, 0), (-5.7033458387, 0.5668572491))
            ThreePointArc((-5.7033458387, 0.5668572491), (-5.8822689812, 0.7122616293), (-5.9261300436, 0.9386067902))
            ThreePointArc((-5.9261300436, 0.9386067902), (-5.8144711931, 1.1403200169), (-5.599372748, 1.2233175084))
            ThreePointArc((-5.599372748, 1.2233175084), (-5.0405995364, 1.6377900702), (-5.2490357013, 2.3015440695))
            ThreePointArc((-5.2490357013, 2.3015440695), (-5.3742692973, 2.4951221445), (-5.3460391451, 2.7239429984))
            ThreePointArc((-5.3460391451, 2.7239429984), (-5.1775124527, 2.8812791947), (-4.9472940395, 2.8937454248))
            ThreePointArc((-4.9472940395, 2.8937454248), (-4.2877900702, 3.1152618372), (-4.2809133772, 3.8109397206))
            ThreePointArc((-4.2809133772, 3.8109397206), (-4.3401986898, 4.0337427197), (-4.2426406871, 4.2426406871))
            ThreePointArc((-4.2426406871, 4.2426406871), (-4.0337427197, 4.3401986898), (-3.8109397206, 4.2809133772))
            ThreePointArc((-3.8109397206, 4.2809133772), (-3.1152618372, 4.2877900702), (-2.8937454248, 4.9472940395))
            ThreePointArc((-2.8937454248, 4.9472940395), (-2.8812791947, 5.1775124527), (-2.7239429984, 5.3460391451))
            ThreePointArc((-2.7239429984, 5.3460391451), (-2.4951221445, 5.3742692973), (-2.3015440695, 5.2490357013))
            ThreePointArc((-2.3015440695, 5.2490357013), (-1.6377900702, 5.0405995364), (-1.2233175084, 5.599372748))
            ThreePointArc((-1.2233175084, 5.599372748), (-1.1403200169, 5.8144711931), (-0.9386067902, 5.9261300436))
        make_face(mode=Mode.SUBTRACT)
    extrude(amount=F13_DEPTH, both=True, mode=Mode.SUBTRACT)

    # F14 (on Top) → F15 (cut)
    with BuildSketch(Plane.XY):
        with Locations((15.5, 0)):
            Circle(F14_R)
    extrude(amount=F15_DEPTH, mode=Mode.SUBTRACT)


solid = Compound([f1.part, f11.part])
